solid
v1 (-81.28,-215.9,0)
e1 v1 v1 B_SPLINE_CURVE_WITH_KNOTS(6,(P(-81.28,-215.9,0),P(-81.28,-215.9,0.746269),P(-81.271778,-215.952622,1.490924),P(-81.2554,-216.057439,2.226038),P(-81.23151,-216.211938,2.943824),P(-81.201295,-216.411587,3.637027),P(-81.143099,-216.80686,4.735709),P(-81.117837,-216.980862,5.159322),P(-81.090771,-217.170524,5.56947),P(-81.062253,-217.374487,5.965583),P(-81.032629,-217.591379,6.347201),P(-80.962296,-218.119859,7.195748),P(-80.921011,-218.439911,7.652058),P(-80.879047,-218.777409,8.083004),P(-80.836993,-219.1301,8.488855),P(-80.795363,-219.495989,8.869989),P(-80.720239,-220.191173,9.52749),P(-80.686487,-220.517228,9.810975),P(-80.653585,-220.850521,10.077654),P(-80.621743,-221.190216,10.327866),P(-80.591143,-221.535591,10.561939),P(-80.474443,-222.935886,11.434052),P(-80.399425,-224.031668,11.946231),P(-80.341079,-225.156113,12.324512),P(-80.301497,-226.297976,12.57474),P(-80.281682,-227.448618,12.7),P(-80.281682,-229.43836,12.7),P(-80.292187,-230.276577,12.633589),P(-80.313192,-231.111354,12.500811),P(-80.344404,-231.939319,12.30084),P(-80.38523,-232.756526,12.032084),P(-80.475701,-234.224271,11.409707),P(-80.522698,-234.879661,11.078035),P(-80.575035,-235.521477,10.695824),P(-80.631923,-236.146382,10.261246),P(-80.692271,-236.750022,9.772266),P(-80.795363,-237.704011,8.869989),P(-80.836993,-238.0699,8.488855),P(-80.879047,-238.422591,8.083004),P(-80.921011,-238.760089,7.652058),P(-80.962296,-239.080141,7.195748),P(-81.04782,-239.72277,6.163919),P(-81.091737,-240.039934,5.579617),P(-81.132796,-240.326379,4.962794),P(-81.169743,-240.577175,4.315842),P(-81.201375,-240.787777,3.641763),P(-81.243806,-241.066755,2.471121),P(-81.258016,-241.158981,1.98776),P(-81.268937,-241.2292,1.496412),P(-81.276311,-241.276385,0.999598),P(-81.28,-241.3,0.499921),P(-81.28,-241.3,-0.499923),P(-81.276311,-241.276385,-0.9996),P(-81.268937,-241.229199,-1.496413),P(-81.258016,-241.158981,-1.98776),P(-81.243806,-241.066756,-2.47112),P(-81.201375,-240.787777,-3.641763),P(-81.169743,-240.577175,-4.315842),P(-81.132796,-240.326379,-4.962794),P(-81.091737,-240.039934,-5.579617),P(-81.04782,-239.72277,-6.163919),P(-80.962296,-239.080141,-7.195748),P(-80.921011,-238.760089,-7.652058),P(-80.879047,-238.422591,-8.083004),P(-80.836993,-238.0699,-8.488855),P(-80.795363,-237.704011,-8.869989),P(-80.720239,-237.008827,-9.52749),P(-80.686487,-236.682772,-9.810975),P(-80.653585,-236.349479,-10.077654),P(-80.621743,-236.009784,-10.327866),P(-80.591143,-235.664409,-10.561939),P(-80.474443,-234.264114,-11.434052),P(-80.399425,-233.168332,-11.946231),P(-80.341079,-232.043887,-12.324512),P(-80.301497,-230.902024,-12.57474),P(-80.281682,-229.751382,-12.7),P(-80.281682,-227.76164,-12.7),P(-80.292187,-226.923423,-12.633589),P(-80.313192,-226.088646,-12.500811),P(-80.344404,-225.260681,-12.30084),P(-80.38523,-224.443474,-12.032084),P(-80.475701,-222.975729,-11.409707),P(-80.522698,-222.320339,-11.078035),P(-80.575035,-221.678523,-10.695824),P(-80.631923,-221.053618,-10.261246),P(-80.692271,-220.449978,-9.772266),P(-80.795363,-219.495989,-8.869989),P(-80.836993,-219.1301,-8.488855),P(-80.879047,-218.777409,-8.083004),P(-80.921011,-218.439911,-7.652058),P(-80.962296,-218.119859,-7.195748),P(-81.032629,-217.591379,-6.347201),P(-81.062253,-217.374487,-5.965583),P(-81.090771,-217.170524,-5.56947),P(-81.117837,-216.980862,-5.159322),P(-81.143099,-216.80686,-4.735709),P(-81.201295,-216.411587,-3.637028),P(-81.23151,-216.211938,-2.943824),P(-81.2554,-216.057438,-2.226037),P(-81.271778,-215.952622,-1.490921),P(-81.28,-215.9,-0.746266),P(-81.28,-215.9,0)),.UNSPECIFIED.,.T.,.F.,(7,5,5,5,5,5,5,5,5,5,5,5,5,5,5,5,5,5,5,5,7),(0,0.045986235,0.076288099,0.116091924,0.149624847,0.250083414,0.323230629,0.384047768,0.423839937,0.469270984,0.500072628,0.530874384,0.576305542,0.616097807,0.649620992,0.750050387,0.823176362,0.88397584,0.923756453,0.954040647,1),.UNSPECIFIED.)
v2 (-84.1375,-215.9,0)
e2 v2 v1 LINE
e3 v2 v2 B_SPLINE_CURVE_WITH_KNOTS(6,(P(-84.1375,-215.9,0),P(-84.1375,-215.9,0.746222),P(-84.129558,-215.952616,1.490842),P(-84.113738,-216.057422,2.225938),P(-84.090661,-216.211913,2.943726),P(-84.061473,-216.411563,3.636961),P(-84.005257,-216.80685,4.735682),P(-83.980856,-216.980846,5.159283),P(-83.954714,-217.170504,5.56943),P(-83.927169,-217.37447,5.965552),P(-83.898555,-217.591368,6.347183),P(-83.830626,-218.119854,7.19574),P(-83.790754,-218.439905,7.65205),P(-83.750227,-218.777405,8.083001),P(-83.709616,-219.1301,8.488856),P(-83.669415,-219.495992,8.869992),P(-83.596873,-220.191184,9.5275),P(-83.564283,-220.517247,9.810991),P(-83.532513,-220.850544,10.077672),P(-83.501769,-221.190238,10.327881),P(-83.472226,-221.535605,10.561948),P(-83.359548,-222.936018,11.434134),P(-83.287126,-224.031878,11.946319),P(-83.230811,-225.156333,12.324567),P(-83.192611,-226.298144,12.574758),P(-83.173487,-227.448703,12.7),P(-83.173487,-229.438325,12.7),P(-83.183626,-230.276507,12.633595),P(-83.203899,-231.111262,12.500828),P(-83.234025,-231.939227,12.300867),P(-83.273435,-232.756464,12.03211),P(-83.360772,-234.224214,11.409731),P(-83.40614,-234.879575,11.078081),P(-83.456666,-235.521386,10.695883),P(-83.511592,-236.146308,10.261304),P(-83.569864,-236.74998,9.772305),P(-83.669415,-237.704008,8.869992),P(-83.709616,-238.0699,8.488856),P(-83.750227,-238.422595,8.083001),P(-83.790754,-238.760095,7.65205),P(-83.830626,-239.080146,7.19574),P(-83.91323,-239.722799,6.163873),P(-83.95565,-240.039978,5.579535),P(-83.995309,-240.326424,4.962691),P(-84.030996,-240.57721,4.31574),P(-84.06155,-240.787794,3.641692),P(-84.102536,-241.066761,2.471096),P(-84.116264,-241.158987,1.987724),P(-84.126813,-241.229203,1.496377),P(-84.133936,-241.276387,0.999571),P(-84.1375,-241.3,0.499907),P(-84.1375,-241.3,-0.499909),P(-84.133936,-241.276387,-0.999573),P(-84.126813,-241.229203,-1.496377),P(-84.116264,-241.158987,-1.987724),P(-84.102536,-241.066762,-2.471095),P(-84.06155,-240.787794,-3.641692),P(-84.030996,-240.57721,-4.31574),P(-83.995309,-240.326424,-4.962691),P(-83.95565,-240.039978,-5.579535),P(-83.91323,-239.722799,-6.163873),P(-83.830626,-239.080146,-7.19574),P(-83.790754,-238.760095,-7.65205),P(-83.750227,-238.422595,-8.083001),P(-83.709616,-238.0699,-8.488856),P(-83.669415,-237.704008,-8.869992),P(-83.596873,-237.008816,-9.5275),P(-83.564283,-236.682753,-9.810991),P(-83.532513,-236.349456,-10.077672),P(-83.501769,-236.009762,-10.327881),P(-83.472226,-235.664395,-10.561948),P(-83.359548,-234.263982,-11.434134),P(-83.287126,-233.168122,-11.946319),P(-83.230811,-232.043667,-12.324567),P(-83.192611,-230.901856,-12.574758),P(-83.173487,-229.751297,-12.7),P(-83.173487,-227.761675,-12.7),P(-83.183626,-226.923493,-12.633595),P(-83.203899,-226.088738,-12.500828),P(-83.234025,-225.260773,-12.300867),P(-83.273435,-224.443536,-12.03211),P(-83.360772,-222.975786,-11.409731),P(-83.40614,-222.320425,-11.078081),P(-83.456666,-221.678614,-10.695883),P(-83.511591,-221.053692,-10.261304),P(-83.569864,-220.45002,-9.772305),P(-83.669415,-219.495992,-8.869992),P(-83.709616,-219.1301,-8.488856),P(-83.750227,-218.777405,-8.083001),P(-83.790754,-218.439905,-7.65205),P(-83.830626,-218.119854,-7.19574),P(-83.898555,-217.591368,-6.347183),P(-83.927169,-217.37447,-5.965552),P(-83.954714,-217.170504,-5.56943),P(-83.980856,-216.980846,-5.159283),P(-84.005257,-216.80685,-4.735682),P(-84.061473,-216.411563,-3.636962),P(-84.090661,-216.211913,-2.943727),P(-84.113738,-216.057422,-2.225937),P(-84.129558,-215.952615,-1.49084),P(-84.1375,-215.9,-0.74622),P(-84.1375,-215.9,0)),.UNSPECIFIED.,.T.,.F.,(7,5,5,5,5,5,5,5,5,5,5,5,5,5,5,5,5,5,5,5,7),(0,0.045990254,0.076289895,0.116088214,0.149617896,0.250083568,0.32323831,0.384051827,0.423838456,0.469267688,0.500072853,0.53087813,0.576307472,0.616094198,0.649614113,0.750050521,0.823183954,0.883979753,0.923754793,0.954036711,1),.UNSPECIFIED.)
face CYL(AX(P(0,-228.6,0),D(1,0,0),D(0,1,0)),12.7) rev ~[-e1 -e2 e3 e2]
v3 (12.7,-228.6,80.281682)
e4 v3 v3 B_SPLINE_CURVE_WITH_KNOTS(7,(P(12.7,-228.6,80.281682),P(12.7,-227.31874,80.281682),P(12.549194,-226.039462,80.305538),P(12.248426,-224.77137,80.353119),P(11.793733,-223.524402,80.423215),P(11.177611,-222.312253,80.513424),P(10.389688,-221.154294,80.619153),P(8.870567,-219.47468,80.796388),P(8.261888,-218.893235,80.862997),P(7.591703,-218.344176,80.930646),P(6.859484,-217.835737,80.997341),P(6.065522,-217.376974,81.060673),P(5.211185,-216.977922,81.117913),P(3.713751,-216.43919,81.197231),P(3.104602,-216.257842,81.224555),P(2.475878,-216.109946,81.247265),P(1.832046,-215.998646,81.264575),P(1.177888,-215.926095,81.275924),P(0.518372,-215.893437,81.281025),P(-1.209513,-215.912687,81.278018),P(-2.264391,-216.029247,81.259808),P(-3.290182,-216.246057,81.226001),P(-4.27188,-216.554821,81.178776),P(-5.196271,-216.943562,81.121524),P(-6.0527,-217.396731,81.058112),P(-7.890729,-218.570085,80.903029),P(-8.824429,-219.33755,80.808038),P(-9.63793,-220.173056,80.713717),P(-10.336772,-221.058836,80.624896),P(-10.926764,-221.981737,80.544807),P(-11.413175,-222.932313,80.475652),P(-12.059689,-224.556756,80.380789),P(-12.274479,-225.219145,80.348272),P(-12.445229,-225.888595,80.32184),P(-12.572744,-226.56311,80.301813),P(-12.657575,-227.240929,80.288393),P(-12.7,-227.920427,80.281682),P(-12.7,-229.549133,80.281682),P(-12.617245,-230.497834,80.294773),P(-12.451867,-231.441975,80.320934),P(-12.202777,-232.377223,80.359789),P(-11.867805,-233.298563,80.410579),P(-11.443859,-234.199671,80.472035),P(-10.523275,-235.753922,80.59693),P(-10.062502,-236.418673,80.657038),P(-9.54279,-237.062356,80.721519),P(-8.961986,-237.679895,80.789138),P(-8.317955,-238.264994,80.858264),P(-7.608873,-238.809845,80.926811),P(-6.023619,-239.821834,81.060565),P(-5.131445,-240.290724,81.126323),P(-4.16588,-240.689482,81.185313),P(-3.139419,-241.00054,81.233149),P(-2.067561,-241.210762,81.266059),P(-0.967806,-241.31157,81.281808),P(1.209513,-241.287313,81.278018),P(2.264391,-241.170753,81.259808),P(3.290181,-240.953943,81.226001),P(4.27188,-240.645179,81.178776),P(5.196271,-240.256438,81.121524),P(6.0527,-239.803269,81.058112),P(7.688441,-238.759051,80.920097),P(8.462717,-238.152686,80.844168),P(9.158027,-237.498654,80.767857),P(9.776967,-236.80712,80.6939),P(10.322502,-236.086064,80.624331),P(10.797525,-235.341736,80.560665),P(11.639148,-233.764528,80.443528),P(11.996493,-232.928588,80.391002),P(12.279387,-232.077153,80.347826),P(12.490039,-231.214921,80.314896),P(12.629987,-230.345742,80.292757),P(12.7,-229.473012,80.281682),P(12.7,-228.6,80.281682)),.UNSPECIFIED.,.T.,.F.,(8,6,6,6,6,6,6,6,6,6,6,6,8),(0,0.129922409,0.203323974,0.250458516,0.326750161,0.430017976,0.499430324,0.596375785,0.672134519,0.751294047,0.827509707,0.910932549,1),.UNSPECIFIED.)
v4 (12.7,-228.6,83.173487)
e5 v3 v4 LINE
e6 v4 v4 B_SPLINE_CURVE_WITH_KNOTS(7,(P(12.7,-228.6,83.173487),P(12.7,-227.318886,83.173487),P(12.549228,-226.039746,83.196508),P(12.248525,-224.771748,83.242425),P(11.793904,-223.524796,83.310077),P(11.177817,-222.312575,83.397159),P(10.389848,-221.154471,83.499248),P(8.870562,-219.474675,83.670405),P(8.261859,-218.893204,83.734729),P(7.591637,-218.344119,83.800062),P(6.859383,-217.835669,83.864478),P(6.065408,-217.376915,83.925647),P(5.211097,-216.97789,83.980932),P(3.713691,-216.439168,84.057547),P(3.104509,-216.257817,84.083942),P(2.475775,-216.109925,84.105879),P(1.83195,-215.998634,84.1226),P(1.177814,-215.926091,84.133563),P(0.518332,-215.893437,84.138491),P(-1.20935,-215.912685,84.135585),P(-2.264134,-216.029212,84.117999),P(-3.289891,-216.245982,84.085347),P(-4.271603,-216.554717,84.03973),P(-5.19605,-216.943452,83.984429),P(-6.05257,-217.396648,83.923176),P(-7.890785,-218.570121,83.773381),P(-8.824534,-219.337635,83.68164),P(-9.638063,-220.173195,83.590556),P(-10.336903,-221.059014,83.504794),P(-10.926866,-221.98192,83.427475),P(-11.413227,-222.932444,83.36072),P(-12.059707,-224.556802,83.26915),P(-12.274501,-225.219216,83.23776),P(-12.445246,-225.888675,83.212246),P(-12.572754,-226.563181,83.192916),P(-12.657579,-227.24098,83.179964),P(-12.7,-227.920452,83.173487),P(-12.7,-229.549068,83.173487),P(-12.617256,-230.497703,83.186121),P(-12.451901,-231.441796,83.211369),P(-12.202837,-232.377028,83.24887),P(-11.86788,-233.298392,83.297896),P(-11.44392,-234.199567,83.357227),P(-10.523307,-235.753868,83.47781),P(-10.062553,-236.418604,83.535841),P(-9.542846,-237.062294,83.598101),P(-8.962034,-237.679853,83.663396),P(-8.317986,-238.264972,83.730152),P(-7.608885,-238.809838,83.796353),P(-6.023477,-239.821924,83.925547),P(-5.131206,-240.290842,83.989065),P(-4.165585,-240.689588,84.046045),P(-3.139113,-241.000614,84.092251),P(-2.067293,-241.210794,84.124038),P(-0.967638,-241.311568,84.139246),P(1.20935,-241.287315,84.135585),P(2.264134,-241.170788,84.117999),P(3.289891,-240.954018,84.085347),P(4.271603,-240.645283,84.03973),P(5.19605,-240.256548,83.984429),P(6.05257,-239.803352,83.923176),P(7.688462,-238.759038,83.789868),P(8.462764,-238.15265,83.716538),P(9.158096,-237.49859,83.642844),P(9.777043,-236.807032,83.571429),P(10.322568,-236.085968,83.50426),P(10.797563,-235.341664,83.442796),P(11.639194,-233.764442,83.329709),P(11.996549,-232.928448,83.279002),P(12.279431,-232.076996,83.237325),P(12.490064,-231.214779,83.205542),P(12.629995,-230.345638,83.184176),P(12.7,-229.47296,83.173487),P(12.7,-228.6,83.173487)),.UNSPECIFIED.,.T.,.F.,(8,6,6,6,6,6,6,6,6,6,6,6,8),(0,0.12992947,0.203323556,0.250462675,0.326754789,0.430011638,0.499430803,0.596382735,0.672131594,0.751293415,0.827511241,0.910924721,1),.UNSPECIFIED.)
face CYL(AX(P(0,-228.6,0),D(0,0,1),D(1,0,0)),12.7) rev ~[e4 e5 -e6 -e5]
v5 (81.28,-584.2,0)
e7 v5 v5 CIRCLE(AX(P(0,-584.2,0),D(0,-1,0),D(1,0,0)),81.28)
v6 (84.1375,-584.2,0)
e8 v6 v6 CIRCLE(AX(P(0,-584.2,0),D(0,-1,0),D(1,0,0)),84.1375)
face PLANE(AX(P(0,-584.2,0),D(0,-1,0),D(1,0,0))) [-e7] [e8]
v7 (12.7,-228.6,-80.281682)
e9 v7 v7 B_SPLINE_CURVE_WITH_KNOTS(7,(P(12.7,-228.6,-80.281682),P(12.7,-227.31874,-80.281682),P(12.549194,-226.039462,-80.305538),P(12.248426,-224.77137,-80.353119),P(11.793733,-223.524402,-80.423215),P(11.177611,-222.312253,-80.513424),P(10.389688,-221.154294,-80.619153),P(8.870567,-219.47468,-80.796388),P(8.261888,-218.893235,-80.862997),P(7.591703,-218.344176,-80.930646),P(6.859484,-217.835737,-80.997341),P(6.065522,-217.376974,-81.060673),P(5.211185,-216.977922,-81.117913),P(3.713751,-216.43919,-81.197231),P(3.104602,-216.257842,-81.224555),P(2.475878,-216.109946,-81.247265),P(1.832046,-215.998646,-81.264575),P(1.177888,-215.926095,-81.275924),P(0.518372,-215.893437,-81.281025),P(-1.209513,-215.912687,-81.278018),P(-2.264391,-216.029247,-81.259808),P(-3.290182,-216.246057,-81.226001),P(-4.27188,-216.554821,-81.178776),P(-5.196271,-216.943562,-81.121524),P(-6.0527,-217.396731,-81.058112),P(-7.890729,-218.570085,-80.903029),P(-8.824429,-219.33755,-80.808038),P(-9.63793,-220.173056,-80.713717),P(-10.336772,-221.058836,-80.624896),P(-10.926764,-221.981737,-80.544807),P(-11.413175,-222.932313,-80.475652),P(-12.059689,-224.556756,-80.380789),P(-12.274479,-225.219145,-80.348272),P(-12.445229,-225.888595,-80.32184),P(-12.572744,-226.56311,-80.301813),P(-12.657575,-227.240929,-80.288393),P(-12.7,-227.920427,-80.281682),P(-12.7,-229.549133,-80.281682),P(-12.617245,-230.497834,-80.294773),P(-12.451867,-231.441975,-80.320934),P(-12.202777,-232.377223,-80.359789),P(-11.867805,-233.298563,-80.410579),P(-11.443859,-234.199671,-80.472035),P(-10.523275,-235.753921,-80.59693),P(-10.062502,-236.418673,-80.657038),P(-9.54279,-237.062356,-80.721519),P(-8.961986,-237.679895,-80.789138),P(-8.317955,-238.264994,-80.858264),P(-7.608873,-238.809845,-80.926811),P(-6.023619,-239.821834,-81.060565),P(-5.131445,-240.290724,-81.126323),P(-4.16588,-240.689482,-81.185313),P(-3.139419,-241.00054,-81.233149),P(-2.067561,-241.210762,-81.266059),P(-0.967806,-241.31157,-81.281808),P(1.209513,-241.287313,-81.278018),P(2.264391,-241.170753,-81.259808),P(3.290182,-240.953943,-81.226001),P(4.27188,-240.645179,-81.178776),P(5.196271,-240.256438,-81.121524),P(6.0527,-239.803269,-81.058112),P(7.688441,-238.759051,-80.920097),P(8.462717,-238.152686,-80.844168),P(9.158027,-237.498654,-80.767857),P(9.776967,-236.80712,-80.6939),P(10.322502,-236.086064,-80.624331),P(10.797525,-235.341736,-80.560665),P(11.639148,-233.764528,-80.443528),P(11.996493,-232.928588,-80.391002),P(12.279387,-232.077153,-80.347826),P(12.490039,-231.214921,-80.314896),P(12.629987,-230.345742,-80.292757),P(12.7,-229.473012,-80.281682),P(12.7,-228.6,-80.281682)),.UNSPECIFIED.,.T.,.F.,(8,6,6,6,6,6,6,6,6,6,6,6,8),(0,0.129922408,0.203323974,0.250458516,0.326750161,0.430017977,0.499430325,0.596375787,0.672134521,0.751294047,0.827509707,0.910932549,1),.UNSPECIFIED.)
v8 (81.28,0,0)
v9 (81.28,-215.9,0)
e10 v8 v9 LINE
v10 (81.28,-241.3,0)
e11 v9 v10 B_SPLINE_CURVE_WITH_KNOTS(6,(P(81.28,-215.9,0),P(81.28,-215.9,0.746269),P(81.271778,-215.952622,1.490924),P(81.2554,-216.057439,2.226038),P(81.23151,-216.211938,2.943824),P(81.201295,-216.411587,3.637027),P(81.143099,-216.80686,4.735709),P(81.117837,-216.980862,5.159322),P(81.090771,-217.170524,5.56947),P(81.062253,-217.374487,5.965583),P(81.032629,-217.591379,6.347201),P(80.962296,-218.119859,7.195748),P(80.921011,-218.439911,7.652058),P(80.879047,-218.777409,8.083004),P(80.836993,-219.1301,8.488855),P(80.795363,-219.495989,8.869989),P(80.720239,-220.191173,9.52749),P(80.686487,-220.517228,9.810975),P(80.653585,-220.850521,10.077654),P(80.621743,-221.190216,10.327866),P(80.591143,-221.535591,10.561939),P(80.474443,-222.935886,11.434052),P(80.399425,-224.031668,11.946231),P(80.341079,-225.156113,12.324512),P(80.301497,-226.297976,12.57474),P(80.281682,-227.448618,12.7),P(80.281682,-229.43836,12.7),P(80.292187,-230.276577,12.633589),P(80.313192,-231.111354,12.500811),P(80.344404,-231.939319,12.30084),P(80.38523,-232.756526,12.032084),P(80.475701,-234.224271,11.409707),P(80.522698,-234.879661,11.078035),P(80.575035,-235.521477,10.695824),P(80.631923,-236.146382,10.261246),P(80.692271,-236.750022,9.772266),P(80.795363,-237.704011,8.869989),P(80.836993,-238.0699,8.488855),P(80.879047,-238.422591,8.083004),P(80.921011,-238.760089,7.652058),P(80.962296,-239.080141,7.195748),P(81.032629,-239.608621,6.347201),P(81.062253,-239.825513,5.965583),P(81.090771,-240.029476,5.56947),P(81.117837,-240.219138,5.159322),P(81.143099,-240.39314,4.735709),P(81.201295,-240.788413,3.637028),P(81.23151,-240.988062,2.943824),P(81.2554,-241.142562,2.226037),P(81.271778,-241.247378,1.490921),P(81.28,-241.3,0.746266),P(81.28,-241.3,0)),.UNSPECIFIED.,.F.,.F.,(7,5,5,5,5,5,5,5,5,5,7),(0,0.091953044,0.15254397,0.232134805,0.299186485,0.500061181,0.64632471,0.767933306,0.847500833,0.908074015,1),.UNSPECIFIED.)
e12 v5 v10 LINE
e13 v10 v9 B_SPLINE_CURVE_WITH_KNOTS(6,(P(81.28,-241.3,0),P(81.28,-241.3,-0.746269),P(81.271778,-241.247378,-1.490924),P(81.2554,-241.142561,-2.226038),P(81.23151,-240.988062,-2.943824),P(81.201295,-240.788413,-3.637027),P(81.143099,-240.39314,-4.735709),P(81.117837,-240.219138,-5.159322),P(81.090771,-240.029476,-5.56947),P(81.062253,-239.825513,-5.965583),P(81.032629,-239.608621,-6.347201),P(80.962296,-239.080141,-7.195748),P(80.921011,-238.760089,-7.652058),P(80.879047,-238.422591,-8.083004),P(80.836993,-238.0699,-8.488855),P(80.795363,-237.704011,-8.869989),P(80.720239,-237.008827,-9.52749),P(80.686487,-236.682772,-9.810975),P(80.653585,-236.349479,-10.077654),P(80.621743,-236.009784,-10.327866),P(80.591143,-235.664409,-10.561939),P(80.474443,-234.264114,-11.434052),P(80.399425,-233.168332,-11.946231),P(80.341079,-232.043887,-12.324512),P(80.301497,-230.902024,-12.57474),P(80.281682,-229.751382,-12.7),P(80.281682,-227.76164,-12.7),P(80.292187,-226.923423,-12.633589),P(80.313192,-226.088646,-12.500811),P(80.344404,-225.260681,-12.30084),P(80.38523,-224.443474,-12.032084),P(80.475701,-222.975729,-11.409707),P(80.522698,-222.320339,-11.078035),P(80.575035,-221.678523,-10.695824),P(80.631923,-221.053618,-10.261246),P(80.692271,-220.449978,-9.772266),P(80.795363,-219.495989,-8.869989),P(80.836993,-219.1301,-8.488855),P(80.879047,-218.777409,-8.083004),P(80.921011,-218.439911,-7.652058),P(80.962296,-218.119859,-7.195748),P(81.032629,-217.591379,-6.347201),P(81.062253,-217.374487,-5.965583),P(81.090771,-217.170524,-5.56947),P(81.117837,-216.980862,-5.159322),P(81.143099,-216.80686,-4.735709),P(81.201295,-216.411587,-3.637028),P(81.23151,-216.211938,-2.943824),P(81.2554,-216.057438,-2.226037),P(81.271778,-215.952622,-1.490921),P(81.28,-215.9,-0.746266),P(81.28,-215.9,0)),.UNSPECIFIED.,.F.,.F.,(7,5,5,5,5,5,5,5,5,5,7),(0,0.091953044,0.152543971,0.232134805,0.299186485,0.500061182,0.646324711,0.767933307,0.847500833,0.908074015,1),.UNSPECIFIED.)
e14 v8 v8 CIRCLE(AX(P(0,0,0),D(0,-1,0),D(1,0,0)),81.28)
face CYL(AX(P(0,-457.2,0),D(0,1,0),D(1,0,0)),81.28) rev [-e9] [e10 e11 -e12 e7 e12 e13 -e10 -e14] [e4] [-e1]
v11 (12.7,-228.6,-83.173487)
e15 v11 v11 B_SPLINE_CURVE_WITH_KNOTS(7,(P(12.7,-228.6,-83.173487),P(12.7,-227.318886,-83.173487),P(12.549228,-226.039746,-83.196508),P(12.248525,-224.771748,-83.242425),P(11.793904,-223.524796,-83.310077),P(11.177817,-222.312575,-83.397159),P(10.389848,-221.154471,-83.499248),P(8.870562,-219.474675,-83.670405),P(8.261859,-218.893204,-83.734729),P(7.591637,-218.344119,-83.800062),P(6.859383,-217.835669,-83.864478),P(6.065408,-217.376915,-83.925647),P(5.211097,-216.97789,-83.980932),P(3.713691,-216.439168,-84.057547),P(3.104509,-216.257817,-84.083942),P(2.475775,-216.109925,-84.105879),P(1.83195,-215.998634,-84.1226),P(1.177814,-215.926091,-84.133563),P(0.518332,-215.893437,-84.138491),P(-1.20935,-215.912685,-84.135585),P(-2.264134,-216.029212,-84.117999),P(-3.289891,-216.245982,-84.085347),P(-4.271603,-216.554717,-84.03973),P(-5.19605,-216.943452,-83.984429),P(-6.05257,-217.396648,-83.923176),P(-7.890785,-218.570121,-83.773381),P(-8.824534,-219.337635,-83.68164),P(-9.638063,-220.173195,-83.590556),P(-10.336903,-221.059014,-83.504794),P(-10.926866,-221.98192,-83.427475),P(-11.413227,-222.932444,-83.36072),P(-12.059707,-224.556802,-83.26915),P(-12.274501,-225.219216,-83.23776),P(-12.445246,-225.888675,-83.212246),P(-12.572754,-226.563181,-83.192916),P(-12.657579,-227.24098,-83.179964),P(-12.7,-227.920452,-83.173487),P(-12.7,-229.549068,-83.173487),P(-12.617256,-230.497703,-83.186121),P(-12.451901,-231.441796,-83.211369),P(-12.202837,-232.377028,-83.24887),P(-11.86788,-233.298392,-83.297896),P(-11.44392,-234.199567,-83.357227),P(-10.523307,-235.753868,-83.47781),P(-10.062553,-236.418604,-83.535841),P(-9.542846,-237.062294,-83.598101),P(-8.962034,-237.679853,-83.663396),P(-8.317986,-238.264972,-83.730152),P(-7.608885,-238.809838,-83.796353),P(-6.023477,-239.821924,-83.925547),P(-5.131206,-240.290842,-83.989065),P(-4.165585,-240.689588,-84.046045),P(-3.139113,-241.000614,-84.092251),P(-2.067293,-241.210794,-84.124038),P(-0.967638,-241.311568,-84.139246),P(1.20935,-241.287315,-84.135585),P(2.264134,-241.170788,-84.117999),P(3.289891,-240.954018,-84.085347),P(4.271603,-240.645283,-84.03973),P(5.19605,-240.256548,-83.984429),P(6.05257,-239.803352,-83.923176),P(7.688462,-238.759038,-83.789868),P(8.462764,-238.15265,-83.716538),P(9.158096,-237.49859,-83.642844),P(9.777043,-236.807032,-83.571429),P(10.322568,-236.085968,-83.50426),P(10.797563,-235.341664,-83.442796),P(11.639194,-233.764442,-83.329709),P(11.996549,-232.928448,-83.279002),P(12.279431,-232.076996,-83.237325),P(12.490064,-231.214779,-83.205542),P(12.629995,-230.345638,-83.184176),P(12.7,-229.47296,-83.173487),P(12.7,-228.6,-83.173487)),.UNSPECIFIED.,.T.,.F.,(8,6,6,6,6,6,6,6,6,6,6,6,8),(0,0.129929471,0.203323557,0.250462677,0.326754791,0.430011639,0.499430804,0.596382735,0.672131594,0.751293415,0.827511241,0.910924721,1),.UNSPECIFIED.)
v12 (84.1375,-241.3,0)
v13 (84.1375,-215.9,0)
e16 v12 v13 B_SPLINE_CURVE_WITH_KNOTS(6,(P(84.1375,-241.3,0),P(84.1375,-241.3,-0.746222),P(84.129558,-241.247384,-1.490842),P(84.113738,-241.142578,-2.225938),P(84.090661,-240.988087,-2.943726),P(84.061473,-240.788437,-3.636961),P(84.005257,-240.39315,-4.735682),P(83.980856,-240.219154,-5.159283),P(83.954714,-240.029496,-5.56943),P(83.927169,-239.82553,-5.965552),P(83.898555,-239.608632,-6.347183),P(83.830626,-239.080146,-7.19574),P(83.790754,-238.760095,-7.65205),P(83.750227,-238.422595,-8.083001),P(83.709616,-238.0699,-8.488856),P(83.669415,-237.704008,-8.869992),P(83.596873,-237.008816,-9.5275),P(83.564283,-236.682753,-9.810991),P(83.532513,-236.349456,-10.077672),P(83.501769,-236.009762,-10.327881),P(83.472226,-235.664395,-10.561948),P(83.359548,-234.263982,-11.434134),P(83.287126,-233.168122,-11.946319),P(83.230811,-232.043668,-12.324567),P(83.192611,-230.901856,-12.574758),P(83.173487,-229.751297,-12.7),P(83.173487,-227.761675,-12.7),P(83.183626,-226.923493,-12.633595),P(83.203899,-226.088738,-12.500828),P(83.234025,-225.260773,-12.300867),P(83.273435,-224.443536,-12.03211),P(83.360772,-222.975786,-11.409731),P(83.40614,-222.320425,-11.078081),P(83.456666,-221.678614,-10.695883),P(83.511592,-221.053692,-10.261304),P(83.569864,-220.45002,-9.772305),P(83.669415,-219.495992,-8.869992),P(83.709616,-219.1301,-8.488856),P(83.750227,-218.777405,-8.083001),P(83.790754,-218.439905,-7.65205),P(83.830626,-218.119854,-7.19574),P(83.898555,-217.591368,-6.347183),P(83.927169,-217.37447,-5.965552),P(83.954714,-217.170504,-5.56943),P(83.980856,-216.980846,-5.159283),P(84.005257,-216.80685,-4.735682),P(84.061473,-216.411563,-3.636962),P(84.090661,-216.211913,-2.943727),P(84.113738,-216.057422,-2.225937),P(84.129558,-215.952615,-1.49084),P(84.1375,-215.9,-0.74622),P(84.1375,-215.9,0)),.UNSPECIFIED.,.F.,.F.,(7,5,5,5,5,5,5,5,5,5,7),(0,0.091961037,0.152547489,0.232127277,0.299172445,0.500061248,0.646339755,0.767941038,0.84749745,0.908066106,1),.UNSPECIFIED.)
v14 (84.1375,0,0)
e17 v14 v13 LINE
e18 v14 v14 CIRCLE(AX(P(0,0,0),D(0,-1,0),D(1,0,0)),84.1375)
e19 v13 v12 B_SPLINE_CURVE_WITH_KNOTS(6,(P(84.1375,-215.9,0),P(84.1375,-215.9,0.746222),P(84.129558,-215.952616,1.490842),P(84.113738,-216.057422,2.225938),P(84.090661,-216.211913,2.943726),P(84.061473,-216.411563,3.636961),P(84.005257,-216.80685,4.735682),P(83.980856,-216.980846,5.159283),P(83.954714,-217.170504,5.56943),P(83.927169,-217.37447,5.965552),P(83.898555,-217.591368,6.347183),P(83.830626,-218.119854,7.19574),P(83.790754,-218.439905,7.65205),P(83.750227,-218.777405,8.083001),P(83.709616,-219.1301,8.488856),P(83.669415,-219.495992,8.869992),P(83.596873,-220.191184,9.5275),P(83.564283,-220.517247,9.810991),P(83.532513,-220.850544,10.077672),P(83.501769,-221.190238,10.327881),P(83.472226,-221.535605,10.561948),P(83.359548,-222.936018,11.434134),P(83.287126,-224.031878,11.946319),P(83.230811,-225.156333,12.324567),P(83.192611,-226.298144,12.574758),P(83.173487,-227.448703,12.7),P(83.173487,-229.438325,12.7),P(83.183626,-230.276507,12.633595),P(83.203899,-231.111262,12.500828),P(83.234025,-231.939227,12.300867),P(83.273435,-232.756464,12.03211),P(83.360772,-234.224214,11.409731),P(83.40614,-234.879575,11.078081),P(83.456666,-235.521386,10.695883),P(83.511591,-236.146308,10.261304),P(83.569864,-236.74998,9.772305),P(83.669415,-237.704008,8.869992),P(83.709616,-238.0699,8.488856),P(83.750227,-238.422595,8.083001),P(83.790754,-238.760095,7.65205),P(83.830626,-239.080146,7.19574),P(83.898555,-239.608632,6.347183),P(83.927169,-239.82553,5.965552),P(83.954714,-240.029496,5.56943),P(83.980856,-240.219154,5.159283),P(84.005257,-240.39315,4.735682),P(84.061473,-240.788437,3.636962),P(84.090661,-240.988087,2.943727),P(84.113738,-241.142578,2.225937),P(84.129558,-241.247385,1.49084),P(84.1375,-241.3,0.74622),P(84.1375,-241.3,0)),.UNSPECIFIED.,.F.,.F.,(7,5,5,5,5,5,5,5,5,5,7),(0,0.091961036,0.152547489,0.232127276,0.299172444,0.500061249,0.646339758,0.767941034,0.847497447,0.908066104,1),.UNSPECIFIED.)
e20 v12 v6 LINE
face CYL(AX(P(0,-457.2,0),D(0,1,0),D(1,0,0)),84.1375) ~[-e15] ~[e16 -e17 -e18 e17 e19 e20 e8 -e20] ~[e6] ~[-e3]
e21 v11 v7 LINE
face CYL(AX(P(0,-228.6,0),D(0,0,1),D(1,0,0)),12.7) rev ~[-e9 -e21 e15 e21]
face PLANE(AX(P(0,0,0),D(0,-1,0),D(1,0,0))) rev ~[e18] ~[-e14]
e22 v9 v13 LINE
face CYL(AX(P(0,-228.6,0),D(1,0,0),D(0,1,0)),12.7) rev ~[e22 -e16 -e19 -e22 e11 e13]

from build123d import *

# Parameters (mm, degrees)
F0_R     = 84.1375
F0_R_2   = 81.28
F1_DEPTH = 457.2
F2_R     = 12.7
F3_DEPTH = 127
F4_R     = 12.7
F5_DEPTH = 127
F6_R     = 84.1375
F6_R_2   = 81.28
F7_DEPTH = 127


with BuildPart() as f1:
    # F0 (on Front) → F1 (new body)
    with BuildSketch(Plane.XZ):
        Circle(F0_R)
        Circle(F0_R_2, mode=Mode.SUBTRACT)
    extrude(amount=F1_DEPTH)

    # F2 (on Right) → F3 (cut, symmetric)
    with BuildSketch(Plane.YZ):
        with Locations((-228.6, 0)):
            Circle(F2_R)
    extrude(amount=F3_DEPTH, both=True, mode=Mode.SUBTRACT)

    # F4 (on Top) → F5 (cut, symmetric)
    with BuildSketch(Plane.XY):
        with Locations((0, -228.6)):
            Circle(F4_R)
    extrude(amount=F5_DEPTH, both=True, mode=Mode.SUBTRACT)

    # F6 (on face) → F7 (join)
    with BuildSketch(Plane.XZ.offset(457.2)):
        Circle(F6_R)
        Circle(F6_R_2, mode=Mode.SUBTRACT)
    extrude(amount=F7_DEPTH)


solid = f1.part
